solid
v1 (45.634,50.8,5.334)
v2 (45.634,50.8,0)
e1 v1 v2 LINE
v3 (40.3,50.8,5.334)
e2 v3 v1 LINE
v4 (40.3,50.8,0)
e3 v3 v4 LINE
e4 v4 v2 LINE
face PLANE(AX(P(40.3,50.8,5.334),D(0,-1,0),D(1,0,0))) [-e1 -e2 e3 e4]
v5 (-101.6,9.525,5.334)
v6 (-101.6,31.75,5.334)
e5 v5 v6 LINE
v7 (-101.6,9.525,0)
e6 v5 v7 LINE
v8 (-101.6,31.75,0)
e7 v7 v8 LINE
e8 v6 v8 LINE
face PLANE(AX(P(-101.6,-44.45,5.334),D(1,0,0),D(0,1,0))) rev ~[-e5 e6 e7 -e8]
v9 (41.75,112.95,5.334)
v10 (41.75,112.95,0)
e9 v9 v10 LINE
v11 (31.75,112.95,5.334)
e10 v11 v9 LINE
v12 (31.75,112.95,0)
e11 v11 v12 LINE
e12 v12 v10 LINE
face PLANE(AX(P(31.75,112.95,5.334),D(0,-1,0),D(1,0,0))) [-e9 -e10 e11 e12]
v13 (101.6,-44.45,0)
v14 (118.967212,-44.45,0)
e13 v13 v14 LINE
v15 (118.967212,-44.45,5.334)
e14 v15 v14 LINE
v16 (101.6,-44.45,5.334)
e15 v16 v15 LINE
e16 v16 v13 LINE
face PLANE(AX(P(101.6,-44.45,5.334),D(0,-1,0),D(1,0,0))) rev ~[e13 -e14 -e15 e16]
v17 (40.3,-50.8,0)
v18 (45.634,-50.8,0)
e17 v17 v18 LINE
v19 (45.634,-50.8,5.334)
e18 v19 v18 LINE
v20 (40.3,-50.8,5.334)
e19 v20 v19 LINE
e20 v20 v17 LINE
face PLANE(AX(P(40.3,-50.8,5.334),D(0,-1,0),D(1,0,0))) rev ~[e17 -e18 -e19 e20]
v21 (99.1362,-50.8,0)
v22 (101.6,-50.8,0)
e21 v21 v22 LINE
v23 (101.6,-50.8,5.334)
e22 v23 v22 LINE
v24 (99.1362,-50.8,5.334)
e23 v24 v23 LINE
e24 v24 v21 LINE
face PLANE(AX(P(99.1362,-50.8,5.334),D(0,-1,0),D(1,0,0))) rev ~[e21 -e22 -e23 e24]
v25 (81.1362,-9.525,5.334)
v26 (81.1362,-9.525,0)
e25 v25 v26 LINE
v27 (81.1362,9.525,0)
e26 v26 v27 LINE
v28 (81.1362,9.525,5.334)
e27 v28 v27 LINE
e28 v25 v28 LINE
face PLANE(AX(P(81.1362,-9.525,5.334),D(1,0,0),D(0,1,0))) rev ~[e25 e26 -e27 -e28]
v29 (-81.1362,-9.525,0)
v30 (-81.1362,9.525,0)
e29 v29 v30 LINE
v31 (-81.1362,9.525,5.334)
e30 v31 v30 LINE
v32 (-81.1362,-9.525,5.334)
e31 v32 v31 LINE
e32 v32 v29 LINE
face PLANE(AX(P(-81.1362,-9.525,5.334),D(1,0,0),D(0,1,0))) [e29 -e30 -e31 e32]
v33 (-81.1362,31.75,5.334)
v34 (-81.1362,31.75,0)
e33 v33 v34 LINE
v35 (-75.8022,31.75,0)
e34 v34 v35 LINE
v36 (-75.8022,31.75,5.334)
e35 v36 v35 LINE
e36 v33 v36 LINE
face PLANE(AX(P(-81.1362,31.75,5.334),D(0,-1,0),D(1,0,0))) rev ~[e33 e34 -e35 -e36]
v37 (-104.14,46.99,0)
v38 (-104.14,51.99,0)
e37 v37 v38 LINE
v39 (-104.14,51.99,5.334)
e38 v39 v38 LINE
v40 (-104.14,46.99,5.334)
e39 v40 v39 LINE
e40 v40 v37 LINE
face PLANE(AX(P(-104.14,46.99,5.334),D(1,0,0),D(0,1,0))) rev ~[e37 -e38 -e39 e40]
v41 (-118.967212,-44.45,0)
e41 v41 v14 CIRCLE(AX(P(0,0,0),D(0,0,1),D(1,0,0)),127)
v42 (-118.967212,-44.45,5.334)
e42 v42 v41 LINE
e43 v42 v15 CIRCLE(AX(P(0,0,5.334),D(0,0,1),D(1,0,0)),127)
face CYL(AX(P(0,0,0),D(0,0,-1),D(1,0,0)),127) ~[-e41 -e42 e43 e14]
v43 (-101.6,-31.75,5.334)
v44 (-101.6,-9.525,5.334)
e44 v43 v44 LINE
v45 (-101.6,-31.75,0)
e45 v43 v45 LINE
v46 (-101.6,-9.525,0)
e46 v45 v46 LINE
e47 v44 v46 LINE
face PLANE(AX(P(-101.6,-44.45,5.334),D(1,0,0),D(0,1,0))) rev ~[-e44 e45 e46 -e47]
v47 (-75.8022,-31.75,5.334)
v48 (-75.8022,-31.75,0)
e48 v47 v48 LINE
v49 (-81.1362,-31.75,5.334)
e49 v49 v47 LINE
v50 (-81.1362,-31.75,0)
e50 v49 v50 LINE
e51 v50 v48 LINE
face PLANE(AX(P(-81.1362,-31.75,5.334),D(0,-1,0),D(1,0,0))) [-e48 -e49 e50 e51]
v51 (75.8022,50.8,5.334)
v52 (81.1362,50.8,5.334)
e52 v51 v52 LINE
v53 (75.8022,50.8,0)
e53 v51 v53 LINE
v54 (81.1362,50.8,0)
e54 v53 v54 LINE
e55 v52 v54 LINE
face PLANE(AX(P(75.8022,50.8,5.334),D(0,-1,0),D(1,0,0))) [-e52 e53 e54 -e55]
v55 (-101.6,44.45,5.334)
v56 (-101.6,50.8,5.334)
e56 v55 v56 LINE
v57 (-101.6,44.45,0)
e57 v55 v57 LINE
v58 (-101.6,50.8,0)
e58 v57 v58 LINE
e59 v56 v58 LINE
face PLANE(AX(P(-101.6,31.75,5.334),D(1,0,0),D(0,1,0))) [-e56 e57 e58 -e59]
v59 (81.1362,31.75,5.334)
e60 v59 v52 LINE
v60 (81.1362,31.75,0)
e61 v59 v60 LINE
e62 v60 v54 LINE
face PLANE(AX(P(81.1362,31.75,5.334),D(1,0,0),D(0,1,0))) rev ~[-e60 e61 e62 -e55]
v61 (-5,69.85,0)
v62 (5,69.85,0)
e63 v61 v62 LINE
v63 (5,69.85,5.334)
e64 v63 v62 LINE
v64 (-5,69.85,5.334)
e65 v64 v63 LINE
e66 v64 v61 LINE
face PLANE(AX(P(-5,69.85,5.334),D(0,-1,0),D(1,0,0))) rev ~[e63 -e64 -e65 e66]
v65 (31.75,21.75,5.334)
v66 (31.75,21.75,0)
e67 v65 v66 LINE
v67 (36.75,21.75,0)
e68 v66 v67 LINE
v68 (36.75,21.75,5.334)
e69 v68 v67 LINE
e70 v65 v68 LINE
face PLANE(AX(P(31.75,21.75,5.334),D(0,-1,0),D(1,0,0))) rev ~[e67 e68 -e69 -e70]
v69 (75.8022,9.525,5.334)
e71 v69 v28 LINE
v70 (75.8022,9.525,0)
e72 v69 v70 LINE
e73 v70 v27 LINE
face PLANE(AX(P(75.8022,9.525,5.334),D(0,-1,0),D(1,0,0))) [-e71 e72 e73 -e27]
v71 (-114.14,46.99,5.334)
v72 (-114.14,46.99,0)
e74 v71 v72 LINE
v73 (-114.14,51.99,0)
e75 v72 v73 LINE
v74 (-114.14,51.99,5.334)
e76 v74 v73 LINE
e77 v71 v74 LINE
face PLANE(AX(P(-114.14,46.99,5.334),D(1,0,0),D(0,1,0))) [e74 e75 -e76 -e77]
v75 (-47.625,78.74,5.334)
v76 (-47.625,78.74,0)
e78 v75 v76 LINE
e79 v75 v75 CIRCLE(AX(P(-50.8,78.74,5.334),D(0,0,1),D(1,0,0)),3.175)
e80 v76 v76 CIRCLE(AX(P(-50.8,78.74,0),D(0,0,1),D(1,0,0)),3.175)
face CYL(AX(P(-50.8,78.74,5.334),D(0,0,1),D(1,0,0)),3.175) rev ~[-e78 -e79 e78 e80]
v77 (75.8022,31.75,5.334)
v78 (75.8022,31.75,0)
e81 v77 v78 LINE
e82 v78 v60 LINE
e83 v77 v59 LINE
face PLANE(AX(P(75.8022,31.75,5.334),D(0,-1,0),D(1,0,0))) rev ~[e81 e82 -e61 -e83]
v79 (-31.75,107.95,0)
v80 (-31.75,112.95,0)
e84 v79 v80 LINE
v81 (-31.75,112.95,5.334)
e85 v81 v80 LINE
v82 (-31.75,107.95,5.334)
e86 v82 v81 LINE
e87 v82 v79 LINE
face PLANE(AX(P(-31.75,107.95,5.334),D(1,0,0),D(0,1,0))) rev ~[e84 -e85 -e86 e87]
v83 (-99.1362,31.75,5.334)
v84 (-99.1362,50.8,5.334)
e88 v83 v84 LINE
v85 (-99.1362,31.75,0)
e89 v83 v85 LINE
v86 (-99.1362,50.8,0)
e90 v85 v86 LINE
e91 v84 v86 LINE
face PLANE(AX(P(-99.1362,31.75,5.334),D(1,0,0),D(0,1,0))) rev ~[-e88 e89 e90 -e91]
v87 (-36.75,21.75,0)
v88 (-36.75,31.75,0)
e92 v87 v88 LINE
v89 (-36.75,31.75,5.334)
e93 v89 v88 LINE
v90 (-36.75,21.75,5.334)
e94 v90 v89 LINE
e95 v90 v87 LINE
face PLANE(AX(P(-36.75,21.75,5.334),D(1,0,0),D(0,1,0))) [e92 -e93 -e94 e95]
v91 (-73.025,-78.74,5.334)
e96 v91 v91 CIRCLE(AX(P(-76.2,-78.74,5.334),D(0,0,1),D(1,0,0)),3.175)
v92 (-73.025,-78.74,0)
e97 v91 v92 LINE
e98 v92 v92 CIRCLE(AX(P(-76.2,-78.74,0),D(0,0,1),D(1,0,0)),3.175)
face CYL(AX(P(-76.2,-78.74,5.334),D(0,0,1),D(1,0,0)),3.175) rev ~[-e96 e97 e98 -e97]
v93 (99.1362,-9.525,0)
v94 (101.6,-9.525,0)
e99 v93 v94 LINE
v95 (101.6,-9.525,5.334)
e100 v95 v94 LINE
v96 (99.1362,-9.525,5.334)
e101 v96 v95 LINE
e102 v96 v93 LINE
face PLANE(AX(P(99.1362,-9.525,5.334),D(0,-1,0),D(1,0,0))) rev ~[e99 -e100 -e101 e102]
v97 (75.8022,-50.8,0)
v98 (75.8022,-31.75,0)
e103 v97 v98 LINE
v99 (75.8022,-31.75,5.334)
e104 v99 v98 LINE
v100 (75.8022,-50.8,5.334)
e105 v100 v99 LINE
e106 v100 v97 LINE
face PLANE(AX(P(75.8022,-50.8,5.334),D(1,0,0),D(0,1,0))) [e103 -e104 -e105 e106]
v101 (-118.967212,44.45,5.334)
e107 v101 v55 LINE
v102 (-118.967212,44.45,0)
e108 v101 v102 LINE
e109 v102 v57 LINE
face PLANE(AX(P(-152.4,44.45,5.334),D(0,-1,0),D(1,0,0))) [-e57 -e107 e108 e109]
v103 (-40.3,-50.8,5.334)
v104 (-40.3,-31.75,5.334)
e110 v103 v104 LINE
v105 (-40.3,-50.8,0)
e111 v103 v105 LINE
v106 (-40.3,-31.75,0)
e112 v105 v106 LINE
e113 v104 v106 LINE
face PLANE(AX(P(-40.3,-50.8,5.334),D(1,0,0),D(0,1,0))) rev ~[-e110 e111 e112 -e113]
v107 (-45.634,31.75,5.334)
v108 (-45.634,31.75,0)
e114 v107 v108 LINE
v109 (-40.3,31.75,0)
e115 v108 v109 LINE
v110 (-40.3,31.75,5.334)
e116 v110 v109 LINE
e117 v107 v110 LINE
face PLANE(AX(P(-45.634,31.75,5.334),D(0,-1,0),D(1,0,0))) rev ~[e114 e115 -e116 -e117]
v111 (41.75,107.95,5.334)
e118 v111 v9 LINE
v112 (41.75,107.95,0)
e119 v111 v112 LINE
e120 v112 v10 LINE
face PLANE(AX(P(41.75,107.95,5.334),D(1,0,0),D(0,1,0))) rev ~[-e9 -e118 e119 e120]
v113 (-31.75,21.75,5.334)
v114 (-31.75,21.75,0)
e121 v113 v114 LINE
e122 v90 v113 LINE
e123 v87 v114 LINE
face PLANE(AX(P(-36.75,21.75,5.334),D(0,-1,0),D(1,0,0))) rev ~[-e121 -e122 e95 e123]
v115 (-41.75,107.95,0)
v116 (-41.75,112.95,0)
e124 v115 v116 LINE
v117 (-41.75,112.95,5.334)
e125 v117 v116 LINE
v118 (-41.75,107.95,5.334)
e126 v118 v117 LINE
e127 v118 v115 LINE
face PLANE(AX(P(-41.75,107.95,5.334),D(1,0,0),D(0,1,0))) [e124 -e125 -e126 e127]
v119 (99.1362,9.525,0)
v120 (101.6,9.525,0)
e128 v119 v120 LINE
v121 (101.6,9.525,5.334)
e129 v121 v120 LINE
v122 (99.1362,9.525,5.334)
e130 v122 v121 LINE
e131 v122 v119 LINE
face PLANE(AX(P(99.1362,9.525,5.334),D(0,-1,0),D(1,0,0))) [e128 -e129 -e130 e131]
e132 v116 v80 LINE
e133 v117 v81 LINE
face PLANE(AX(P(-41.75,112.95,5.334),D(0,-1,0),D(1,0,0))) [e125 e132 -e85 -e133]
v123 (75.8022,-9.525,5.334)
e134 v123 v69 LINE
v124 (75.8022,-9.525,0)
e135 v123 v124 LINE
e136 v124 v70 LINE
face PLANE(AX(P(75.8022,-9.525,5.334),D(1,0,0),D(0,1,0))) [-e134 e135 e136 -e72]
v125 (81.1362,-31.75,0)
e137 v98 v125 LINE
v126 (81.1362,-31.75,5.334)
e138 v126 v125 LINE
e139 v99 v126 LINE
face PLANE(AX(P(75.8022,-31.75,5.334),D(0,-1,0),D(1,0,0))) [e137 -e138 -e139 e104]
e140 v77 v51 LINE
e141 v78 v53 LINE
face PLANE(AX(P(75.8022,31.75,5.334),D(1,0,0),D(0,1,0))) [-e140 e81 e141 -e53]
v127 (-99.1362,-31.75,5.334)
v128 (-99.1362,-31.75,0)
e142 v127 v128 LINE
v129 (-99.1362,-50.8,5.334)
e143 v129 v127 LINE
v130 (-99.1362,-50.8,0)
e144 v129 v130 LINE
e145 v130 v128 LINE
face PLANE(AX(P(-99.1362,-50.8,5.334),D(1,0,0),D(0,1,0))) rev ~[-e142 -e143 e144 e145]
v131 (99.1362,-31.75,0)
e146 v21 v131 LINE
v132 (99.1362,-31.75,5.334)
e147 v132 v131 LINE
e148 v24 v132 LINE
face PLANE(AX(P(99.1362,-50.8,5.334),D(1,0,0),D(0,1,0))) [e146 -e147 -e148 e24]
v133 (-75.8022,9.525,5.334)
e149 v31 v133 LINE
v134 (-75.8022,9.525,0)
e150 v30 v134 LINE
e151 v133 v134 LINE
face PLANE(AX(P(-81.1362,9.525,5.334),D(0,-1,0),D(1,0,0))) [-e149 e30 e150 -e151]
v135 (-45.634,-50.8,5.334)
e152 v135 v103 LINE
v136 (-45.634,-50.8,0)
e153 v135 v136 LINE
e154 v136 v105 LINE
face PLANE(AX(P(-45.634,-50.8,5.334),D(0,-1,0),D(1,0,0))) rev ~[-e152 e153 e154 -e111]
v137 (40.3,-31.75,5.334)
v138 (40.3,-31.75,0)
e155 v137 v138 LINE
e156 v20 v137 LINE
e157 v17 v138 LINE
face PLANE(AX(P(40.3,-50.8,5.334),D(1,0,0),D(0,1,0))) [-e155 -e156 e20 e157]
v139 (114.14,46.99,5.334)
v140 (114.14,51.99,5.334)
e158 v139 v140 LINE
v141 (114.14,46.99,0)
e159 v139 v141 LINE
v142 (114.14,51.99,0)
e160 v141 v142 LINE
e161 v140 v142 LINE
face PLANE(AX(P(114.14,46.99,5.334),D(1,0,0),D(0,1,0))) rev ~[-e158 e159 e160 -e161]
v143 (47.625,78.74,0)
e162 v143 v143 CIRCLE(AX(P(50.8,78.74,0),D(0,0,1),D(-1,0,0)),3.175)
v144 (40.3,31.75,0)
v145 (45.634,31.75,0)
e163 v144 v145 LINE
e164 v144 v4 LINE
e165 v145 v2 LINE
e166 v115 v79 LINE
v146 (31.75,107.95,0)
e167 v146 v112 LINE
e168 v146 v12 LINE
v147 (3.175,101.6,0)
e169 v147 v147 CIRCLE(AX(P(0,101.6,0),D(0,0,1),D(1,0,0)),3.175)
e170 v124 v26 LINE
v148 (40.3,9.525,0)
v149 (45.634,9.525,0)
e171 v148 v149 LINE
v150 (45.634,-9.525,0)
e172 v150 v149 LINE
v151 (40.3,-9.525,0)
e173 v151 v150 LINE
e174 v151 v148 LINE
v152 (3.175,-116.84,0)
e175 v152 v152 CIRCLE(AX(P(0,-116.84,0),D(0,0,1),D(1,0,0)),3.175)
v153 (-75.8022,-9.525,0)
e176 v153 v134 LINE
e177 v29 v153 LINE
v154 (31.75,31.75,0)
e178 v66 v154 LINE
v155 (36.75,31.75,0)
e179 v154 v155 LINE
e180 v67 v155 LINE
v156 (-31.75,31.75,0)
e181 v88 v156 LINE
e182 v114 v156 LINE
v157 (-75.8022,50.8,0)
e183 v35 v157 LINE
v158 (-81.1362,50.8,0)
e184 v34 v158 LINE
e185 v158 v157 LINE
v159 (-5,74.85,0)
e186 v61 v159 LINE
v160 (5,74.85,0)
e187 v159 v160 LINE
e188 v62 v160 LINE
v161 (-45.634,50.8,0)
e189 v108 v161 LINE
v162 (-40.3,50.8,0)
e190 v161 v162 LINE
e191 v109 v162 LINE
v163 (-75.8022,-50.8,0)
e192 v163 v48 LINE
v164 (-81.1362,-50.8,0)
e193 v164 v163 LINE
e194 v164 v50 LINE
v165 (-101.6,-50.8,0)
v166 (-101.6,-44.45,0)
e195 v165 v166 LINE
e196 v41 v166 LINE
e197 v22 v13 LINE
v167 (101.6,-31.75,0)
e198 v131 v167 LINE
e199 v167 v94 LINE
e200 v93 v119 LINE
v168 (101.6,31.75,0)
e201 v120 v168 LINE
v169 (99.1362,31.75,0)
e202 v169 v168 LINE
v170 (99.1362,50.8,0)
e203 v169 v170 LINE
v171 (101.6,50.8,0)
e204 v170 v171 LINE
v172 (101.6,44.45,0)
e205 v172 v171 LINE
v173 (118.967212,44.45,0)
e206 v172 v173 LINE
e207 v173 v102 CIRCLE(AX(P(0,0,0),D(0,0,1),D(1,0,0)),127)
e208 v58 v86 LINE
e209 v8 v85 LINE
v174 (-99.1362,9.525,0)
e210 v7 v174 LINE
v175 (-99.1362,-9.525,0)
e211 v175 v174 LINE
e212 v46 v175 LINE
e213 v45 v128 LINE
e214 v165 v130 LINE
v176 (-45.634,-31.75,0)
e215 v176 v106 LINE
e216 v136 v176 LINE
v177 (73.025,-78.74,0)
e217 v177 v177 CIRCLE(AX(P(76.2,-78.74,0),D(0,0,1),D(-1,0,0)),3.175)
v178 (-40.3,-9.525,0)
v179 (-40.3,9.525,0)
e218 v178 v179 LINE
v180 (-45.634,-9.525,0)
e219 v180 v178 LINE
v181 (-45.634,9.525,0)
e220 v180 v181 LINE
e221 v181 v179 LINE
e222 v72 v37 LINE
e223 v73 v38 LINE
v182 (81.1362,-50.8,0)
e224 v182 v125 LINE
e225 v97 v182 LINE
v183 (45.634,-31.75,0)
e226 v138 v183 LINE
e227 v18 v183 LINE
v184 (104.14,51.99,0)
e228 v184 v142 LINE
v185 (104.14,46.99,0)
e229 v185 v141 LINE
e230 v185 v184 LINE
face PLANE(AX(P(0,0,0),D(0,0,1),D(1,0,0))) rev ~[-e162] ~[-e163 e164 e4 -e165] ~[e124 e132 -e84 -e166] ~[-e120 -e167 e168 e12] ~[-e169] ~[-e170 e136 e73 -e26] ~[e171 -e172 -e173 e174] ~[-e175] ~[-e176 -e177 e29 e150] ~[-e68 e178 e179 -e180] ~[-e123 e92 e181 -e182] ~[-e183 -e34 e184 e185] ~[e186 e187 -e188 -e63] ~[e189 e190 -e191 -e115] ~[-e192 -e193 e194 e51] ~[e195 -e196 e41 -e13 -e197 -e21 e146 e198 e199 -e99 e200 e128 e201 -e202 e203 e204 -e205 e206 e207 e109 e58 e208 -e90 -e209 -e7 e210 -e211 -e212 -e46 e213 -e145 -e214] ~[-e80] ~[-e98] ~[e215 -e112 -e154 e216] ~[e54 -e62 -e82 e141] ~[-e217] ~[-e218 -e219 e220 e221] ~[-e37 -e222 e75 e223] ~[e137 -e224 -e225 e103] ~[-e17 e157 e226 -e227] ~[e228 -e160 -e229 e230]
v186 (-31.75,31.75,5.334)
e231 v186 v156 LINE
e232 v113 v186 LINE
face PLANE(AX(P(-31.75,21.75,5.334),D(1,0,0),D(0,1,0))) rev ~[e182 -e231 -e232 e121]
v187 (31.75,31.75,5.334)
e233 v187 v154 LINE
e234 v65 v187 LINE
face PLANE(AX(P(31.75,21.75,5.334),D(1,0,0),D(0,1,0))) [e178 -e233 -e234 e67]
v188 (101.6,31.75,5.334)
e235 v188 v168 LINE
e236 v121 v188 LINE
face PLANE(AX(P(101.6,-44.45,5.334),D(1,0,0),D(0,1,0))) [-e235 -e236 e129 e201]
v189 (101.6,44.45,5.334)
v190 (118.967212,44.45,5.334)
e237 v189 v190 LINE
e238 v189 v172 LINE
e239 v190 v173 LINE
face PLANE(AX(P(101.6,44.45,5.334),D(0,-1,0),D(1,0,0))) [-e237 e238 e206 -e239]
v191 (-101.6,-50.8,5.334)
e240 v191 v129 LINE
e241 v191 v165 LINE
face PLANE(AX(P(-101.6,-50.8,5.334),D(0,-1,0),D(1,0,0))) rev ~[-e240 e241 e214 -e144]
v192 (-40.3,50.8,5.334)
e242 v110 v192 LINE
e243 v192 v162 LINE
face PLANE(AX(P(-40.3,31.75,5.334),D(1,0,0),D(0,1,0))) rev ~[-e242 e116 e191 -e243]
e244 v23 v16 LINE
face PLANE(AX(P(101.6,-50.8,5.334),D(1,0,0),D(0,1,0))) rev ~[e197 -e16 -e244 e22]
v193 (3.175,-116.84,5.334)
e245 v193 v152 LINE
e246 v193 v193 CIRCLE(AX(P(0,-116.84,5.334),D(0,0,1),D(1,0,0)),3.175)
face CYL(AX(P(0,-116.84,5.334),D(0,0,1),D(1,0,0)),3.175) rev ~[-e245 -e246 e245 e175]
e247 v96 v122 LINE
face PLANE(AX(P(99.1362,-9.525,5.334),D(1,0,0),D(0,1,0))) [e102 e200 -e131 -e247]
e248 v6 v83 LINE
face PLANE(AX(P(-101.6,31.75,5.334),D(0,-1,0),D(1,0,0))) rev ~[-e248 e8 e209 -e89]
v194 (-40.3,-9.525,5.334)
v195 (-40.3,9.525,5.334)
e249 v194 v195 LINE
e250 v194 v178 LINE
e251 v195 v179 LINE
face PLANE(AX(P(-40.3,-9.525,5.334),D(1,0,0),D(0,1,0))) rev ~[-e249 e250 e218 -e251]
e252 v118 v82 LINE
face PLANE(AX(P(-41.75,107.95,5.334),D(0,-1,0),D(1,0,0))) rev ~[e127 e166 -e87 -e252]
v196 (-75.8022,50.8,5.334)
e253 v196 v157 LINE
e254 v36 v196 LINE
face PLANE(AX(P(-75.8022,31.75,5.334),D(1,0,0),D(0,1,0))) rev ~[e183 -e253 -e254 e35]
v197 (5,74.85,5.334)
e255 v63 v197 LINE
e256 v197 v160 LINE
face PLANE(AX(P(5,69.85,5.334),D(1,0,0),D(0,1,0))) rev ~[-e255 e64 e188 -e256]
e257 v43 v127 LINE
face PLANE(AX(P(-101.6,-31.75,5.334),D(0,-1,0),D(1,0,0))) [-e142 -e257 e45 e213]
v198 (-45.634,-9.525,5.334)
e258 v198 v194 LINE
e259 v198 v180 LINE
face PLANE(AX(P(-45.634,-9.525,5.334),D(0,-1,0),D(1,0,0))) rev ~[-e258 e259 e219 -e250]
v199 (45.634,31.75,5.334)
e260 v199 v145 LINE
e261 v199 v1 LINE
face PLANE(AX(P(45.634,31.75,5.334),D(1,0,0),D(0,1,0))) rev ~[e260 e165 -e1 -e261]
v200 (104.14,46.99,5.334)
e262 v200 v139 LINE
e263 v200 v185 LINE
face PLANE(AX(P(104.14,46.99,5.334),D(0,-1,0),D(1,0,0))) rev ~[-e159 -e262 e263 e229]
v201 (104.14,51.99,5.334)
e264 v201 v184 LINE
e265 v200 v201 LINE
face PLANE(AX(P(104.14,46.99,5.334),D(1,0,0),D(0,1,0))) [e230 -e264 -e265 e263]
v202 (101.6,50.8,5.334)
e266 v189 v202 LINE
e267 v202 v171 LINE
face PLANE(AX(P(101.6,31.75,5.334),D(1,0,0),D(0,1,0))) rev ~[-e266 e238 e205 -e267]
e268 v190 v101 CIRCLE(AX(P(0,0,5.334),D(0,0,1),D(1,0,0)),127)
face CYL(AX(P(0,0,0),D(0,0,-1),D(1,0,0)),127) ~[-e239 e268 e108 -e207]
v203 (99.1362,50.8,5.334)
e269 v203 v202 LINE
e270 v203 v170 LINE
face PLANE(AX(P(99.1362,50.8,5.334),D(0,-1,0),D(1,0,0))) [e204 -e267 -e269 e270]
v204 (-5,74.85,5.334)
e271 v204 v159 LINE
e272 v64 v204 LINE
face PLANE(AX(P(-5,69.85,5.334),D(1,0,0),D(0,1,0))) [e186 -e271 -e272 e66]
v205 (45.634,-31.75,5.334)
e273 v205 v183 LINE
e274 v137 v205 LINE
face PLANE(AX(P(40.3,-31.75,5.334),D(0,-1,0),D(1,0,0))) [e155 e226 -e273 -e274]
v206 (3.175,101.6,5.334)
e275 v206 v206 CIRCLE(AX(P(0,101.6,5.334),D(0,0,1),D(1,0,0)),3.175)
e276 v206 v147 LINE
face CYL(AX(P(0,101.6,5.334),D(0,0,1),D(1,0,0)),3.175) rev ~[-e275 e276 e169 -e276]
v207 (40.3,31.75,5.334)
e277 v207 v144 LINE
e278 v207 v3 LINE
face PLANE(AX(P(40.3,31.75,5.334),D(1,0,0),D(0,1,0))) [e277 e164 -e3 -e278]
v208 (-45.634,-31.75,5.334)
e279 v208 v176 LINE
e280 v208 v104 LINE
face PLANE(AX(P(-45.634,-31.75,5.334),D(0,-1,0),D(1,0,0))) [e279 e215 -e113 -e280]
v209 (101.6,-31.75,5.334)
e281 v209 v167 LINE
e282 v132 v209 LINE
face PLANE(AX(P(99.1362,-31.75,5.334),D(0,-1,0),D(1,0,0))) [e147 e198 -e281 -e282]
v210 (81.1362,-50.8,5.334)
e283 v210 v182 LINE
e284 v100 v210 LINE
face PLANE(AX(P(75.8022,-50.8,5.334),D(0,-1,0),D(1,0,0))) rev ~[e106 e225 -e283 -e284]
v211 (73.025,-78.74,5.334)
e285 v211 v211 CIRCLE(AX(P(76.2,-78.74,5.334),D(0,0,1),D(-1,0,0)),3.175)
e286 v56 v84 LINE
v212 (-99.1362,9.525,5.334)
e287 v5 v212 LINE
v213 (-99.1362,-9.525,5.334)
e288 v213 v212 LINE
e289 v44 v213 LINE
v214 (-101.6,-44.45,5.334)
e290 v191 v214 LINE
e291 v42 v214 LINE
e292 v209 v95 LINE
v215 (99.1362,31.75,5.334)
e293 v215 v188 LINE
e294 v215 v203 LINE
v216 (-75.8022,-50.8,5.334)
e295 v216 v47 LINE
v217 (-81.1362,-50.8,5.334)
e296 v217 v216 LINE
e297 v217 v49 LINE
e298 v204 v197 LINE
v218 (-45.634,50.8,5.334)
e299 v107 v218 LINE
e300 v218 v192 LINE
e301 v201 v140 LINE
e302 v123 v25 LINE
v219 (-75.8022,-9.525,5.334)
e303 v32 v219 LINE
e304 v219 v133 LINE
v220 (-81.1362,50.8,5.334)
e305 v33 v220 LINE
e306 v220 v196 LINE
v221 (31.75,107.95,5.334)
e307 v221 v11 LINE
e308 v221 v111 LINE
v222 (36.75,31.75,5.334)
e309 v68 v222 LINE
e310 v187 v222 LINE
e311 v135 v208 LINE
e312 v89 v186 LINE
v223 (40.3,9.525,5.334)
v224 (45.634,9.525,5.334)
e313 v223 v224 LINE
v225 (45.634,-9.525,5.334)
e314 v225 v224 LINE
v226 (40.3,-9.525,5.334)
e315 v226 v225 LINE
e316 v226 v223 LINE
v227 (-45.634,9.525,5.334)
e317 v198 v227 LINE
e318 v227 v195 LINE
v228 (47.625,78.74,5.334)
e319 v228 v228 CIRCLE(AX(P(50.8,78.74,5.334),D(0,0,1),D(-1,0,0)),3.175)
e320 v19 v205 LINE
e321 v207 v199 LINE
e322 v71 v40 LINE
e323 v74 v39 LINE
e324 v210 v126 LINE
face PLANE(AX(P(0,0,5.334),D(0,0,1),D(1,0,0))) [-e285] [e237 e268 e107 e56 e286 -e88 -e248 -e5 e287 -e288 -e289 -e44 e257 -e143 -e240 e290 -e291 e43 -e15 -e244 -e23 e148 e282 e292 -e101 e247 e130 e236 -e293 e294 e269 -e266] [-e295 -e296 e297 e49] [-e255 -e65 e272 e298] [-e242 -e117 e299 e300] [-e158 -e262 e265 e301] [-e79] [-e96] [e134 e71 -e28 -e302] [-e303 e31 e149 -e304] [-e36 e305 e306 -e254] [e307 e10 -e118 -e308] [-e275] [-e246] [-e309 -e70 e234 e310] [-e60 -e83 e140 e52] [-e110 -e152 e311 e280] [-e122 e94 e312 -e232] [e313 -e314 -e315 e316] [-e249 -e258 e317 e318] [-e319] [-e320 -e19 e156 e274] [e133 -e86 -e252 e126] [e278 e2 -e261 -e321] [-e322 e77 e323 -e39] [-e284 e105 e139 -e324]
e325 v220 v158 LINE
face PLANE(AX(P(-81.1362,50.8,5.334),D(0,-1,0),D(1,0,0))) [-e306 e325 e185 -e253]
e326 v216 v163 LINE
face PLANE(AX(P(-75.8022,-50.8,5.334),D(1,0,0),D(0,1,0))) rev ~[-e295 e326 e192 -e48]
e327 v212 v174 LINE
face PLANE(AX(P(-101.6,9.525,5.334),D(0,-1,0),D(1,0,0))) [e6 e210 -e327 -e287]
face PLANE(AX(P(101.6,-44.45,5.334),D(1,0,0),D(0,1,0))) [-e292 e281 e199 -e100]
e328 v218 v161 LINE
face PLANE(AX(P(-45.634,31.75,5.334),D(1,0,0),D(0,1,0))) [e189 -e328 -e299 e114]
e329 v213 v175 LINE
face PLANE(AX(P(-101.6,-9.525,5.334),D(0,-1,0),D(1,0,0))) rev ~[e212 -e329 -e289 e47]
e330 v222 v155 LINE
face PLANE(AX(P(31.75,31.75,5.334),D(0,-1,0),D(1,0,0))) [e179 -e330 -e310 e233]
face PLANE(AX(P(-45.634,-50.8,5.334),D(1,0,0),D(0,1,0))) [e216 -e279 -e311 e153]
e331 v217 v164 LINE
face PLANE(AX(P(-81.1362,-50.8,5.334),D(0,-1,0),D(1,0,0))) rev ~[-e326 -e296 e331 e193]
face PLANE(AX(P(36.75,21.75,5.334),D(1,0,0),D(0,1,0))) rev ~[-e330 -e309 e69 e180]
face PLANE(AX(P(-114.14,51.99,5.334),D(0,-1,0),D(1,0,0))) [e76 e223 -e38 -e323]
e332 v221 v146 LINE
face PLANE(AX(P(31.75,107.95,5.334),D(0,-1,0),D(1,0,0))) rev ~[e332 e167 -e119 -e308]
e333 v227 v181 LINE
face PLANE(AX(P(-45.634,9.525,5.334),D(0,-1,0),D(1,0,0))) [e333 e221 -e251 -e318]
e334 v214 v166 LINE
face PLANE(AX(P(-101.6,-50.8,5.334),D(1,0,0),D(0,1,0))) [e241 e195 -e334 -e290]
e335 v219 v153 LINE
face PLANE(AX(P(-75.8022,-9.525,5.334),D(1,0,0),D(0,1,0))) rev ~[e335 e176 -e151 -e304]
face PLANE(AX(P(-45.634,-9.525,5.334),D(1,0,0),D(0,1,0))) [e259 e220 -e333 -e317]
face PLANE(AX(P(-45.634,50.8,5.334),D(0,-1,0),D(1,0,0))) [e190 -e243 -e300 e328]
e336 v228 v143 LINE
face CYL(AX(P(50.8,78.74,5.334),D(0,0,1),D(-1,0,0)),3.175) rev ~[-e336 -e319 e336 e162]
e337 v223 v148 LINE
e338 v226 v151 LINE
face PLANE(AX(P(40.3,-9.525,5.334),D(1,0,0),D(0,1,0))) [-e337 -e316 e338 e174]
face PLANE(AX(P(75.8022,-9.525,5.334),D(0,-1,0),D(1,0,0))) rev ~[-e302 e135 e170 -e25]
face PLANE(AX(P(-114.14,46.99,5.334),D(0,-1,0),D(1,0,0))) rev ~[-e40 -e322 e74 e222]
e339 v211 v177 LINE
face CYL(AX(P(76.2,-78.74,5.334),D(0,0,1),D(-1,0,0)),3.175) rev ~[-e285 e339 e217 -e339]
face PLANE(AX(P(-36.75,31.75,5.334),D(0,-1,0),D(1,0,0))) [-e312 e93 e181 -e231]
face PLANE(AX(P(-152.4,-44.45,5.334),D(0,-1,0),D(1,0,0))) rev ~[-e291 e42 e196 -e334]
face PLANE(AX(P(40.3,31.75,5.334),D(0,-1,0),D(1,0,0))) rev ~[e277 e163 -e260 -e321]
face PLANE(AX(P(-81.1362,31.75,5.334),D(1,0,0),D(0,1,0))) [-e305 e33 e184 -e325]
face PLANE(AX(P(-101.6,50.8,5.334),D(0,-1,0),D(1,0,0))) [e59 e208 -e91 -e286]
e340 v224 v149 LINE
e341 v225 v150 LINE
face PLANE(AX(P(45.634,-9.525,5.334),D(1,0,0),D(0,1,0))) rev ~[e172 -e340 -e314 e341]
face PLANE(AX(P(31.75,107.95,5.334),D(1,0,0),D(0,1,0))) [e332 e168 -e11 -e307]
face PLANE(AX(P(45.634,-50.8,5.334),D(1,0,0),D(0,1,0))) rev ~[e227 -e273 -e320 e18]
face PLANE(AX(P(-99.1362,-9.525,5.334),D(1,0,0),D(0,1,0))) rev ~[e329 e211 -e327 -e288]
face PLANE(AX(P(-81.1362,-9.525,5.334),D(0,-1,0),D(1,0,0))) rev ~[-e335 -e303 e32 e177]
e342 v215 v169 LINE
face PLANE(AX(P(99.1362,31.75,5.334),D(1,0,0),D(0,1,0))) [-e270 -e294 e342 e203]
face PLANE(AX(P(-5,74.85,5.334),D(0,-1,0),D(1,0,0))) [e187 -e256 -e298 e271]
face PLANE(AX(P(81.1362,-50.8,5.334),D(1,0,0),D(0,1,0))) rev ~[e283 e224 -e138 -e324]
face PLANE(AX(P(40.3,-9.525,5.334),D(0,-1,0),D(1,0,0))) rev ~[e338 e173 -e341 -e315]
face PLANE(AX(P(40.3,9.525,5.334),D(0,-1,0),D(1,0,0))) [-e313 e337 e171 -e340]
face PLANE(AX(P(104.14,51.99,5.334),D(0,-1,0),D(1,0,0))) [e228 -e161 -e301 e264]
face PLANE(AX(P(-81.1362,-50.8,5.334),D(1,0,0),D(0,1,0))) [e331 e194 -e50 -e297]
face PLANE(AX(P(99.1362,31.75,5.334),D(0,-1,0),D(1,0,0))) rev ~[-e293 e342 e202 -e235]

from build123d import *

# Parameters (mm, degrees)
SKETCH1_R            = 127
BODY_DEPTH           = 5.334
SKETCH7_W            = 50.8
SKETCH7_H            = 88.9
WHEELCUTS_DEPTH      = 180.684310823
SKETCH4_W            = 2.4638
SKETCH4_H            = 19.05
SKETCH4_W_2          = 5.334
MOTORMOUNTS_DEPTH    = 175.099537782
SKETCH5_R            = 3.175
CASTOR_DEPTH         = 175.099537782
SKETCH6_R            = 3.175
BOLTHOLES_DEPTH      = 175.099537782
SKETCH3_W            = 10.000000066
SKETCH3_H            = 4.999999906
SKETCH3_W_2          = 5
SKETCH3_H_2          = 10
TAPESENSCUTOUT_DEPTH = 175.099537782


with BuildPart() as part:
    # Sketch1 → Body (new body)
    with BuildSketch(Plane.XY):
        Circle(SKETCH1_R)
    extrude(amount=BODY_DEPTH)

    # Sketch7 → WheelCuts (cut, through all)
    with BuildSketch(Plane.XY.offset(5.334)):
        with Locations((-127, 0)):
            Rectangle(SKETCH7_W, SKETCH7_H)
        with Locations((127, 0)):
            Rectangle(SKETCH7_W, SKETCH7_H)
    extrude(amount=-WHEELCUTS_DEPTH, mode=Mode.SUBTRACT)

    # Sketch4 → MotorMounts (cut, through all)
    with BuildSketch(Plane.XY.offset(5.334)):
        with Locations((-100.3681, 41.275)):
            Rectangle(SKETCH4_W, SKETCH4_H)
        with Locations((-100.3681, -41.275)):
            Rectangle(SKETCH4_W, SKETCH4_H)
        with Locations((-100.3681, 0)):
            Rectangle(SKETCH4_W, SKETCH4_H)
        with Locations((-78.469199932, -41.275)):
            Rectangle(SKETCH4_W_2, SKETCH4_H)
        with Locations((-78.469199932, 41.275)):
            Rectangle(SKETCH4_W_2, SKETCH4_H)
        with Locations((-78.469199932, 0)):
            Rectangle(SKETCH4_W_2, SKETCH4_H)
        with Locations((-42.966999918, -41.275)):
            Rectangle(SKETCH4_W_2, SKETCH4_H)
        with Locations((-42.966999918, 41.275)):
            Rectangle(SKETCH4_W_2, SKETCH4_H)
        with Locations((-42.966999918, 0)):
            Rectangle(SKETCH4_W_2, SKETCH4_H)
        with Locations((42.966999918, -41.275)):
            Rectangle(SKETCH4_W_2, SKETCH4_H)
        with Locations((42.966999918, 0)):
            Rectangle(SKETCH4_W_2, SKETCH4_H)
        with Locations((42.966999918, 41.275)):
            Rectangle(SKETCH4_W_2, SKETCH4_H)
        with Locations((78.469199932, -41.275)):
            Rectangle(SKETCH4_W_2, SKETCH4_H)
        with Locations((78.469199932, 0)):
            Rectangle(SKETCH4_W_2, SKETCH4_H)
        with Locations((78.469199932, 41.275)):
            Rectangle(SKETCH4_W_2, SKETCH4_H)
        with Locations((100.3681, -41.275)):
            Rectangle(SKETCH4_W, SKETCH4_H)
        with Locations((100.3681, 0)):
            Rectangle(SKETCH4_W, SKETCH4_H)
        with Locations((100.3681, 41.275)):
            Rectangle(SKETCH4_W, SKETCH4_H)
    extrude(amount=-MOTORMOUNTS_DEPTH, mode=Mode.SUBTRACT)

    # Sketch5 → Castor (cut, through all)
    with BuildSketch(Plane.XY.offset(5.334)):
        with Locations((0, -116.84)):
            Circle(SKETCH5_R)
        with Locations((0, 101.6)):
            Circle(SKETCH5_R)
    extrude(amount=-CASTOR_DEPTH, mode=Mode.SUBTRACT)

    # Sketch6 → BoltHoles (cut, through all)
    with BuildSketch(Plane.XY.offset(5.334)):
        with Locations((-76.2, -78.74)):
            Circle(SKETCH6_R)
        with Locations((-50.8, 78.74)):
            Circle(SKETCH6_R)
        with Locations(Location((76.2, -78.74, 0), (0, 0, 180))):
            Circle(SKETCH6_R)
        with Locations(Location((50.8, 78.74, 0), (0, 0, 180))):
            Circle(SKETCH6_R)
    extrude(amount=-BOLTHOLES_DEPTH, mode=Mode.SUBTRACT)

    # Sketch3 → TapeSensCutOut (cut, through all)
    with BuildSketch(Plane.XY.offset(5.334)):
        with Locations((-36.750000033, 110.449999953)):
            Rectangle(SKETCH3_W, SKETCH3_H)
        with Locations((-109.140000033, 49.489999953)):
            Rectangle(SKETCH3_W, SKETCH3_H)
        with Locations((36.750000033, 110.449999953)):
            Rectangle(SKETCH3_W, SKETCH3_H)
        with Locations((0, 72.349999953)):
            Rectangle(SKETCH3_W, SKETCH3_H)
        with Locations((109.140000033, 49.489999953)):
            Rectangle(SKETCH3_W, SKETCH3_H)
        with Locations((34.25, 26.75)):
            Rectangle(SKETCH3_W_2, SKETCH3_H_2)
        with Locations((-34.25, 26.75)):
            Rectangle(SKETCH3_W_2, SKETCH3_H_2)
    extrude(amount=-TAPESENSCUTOUT_DEPTH, mode=Mode.SUBTRACT)


solid = part.part
